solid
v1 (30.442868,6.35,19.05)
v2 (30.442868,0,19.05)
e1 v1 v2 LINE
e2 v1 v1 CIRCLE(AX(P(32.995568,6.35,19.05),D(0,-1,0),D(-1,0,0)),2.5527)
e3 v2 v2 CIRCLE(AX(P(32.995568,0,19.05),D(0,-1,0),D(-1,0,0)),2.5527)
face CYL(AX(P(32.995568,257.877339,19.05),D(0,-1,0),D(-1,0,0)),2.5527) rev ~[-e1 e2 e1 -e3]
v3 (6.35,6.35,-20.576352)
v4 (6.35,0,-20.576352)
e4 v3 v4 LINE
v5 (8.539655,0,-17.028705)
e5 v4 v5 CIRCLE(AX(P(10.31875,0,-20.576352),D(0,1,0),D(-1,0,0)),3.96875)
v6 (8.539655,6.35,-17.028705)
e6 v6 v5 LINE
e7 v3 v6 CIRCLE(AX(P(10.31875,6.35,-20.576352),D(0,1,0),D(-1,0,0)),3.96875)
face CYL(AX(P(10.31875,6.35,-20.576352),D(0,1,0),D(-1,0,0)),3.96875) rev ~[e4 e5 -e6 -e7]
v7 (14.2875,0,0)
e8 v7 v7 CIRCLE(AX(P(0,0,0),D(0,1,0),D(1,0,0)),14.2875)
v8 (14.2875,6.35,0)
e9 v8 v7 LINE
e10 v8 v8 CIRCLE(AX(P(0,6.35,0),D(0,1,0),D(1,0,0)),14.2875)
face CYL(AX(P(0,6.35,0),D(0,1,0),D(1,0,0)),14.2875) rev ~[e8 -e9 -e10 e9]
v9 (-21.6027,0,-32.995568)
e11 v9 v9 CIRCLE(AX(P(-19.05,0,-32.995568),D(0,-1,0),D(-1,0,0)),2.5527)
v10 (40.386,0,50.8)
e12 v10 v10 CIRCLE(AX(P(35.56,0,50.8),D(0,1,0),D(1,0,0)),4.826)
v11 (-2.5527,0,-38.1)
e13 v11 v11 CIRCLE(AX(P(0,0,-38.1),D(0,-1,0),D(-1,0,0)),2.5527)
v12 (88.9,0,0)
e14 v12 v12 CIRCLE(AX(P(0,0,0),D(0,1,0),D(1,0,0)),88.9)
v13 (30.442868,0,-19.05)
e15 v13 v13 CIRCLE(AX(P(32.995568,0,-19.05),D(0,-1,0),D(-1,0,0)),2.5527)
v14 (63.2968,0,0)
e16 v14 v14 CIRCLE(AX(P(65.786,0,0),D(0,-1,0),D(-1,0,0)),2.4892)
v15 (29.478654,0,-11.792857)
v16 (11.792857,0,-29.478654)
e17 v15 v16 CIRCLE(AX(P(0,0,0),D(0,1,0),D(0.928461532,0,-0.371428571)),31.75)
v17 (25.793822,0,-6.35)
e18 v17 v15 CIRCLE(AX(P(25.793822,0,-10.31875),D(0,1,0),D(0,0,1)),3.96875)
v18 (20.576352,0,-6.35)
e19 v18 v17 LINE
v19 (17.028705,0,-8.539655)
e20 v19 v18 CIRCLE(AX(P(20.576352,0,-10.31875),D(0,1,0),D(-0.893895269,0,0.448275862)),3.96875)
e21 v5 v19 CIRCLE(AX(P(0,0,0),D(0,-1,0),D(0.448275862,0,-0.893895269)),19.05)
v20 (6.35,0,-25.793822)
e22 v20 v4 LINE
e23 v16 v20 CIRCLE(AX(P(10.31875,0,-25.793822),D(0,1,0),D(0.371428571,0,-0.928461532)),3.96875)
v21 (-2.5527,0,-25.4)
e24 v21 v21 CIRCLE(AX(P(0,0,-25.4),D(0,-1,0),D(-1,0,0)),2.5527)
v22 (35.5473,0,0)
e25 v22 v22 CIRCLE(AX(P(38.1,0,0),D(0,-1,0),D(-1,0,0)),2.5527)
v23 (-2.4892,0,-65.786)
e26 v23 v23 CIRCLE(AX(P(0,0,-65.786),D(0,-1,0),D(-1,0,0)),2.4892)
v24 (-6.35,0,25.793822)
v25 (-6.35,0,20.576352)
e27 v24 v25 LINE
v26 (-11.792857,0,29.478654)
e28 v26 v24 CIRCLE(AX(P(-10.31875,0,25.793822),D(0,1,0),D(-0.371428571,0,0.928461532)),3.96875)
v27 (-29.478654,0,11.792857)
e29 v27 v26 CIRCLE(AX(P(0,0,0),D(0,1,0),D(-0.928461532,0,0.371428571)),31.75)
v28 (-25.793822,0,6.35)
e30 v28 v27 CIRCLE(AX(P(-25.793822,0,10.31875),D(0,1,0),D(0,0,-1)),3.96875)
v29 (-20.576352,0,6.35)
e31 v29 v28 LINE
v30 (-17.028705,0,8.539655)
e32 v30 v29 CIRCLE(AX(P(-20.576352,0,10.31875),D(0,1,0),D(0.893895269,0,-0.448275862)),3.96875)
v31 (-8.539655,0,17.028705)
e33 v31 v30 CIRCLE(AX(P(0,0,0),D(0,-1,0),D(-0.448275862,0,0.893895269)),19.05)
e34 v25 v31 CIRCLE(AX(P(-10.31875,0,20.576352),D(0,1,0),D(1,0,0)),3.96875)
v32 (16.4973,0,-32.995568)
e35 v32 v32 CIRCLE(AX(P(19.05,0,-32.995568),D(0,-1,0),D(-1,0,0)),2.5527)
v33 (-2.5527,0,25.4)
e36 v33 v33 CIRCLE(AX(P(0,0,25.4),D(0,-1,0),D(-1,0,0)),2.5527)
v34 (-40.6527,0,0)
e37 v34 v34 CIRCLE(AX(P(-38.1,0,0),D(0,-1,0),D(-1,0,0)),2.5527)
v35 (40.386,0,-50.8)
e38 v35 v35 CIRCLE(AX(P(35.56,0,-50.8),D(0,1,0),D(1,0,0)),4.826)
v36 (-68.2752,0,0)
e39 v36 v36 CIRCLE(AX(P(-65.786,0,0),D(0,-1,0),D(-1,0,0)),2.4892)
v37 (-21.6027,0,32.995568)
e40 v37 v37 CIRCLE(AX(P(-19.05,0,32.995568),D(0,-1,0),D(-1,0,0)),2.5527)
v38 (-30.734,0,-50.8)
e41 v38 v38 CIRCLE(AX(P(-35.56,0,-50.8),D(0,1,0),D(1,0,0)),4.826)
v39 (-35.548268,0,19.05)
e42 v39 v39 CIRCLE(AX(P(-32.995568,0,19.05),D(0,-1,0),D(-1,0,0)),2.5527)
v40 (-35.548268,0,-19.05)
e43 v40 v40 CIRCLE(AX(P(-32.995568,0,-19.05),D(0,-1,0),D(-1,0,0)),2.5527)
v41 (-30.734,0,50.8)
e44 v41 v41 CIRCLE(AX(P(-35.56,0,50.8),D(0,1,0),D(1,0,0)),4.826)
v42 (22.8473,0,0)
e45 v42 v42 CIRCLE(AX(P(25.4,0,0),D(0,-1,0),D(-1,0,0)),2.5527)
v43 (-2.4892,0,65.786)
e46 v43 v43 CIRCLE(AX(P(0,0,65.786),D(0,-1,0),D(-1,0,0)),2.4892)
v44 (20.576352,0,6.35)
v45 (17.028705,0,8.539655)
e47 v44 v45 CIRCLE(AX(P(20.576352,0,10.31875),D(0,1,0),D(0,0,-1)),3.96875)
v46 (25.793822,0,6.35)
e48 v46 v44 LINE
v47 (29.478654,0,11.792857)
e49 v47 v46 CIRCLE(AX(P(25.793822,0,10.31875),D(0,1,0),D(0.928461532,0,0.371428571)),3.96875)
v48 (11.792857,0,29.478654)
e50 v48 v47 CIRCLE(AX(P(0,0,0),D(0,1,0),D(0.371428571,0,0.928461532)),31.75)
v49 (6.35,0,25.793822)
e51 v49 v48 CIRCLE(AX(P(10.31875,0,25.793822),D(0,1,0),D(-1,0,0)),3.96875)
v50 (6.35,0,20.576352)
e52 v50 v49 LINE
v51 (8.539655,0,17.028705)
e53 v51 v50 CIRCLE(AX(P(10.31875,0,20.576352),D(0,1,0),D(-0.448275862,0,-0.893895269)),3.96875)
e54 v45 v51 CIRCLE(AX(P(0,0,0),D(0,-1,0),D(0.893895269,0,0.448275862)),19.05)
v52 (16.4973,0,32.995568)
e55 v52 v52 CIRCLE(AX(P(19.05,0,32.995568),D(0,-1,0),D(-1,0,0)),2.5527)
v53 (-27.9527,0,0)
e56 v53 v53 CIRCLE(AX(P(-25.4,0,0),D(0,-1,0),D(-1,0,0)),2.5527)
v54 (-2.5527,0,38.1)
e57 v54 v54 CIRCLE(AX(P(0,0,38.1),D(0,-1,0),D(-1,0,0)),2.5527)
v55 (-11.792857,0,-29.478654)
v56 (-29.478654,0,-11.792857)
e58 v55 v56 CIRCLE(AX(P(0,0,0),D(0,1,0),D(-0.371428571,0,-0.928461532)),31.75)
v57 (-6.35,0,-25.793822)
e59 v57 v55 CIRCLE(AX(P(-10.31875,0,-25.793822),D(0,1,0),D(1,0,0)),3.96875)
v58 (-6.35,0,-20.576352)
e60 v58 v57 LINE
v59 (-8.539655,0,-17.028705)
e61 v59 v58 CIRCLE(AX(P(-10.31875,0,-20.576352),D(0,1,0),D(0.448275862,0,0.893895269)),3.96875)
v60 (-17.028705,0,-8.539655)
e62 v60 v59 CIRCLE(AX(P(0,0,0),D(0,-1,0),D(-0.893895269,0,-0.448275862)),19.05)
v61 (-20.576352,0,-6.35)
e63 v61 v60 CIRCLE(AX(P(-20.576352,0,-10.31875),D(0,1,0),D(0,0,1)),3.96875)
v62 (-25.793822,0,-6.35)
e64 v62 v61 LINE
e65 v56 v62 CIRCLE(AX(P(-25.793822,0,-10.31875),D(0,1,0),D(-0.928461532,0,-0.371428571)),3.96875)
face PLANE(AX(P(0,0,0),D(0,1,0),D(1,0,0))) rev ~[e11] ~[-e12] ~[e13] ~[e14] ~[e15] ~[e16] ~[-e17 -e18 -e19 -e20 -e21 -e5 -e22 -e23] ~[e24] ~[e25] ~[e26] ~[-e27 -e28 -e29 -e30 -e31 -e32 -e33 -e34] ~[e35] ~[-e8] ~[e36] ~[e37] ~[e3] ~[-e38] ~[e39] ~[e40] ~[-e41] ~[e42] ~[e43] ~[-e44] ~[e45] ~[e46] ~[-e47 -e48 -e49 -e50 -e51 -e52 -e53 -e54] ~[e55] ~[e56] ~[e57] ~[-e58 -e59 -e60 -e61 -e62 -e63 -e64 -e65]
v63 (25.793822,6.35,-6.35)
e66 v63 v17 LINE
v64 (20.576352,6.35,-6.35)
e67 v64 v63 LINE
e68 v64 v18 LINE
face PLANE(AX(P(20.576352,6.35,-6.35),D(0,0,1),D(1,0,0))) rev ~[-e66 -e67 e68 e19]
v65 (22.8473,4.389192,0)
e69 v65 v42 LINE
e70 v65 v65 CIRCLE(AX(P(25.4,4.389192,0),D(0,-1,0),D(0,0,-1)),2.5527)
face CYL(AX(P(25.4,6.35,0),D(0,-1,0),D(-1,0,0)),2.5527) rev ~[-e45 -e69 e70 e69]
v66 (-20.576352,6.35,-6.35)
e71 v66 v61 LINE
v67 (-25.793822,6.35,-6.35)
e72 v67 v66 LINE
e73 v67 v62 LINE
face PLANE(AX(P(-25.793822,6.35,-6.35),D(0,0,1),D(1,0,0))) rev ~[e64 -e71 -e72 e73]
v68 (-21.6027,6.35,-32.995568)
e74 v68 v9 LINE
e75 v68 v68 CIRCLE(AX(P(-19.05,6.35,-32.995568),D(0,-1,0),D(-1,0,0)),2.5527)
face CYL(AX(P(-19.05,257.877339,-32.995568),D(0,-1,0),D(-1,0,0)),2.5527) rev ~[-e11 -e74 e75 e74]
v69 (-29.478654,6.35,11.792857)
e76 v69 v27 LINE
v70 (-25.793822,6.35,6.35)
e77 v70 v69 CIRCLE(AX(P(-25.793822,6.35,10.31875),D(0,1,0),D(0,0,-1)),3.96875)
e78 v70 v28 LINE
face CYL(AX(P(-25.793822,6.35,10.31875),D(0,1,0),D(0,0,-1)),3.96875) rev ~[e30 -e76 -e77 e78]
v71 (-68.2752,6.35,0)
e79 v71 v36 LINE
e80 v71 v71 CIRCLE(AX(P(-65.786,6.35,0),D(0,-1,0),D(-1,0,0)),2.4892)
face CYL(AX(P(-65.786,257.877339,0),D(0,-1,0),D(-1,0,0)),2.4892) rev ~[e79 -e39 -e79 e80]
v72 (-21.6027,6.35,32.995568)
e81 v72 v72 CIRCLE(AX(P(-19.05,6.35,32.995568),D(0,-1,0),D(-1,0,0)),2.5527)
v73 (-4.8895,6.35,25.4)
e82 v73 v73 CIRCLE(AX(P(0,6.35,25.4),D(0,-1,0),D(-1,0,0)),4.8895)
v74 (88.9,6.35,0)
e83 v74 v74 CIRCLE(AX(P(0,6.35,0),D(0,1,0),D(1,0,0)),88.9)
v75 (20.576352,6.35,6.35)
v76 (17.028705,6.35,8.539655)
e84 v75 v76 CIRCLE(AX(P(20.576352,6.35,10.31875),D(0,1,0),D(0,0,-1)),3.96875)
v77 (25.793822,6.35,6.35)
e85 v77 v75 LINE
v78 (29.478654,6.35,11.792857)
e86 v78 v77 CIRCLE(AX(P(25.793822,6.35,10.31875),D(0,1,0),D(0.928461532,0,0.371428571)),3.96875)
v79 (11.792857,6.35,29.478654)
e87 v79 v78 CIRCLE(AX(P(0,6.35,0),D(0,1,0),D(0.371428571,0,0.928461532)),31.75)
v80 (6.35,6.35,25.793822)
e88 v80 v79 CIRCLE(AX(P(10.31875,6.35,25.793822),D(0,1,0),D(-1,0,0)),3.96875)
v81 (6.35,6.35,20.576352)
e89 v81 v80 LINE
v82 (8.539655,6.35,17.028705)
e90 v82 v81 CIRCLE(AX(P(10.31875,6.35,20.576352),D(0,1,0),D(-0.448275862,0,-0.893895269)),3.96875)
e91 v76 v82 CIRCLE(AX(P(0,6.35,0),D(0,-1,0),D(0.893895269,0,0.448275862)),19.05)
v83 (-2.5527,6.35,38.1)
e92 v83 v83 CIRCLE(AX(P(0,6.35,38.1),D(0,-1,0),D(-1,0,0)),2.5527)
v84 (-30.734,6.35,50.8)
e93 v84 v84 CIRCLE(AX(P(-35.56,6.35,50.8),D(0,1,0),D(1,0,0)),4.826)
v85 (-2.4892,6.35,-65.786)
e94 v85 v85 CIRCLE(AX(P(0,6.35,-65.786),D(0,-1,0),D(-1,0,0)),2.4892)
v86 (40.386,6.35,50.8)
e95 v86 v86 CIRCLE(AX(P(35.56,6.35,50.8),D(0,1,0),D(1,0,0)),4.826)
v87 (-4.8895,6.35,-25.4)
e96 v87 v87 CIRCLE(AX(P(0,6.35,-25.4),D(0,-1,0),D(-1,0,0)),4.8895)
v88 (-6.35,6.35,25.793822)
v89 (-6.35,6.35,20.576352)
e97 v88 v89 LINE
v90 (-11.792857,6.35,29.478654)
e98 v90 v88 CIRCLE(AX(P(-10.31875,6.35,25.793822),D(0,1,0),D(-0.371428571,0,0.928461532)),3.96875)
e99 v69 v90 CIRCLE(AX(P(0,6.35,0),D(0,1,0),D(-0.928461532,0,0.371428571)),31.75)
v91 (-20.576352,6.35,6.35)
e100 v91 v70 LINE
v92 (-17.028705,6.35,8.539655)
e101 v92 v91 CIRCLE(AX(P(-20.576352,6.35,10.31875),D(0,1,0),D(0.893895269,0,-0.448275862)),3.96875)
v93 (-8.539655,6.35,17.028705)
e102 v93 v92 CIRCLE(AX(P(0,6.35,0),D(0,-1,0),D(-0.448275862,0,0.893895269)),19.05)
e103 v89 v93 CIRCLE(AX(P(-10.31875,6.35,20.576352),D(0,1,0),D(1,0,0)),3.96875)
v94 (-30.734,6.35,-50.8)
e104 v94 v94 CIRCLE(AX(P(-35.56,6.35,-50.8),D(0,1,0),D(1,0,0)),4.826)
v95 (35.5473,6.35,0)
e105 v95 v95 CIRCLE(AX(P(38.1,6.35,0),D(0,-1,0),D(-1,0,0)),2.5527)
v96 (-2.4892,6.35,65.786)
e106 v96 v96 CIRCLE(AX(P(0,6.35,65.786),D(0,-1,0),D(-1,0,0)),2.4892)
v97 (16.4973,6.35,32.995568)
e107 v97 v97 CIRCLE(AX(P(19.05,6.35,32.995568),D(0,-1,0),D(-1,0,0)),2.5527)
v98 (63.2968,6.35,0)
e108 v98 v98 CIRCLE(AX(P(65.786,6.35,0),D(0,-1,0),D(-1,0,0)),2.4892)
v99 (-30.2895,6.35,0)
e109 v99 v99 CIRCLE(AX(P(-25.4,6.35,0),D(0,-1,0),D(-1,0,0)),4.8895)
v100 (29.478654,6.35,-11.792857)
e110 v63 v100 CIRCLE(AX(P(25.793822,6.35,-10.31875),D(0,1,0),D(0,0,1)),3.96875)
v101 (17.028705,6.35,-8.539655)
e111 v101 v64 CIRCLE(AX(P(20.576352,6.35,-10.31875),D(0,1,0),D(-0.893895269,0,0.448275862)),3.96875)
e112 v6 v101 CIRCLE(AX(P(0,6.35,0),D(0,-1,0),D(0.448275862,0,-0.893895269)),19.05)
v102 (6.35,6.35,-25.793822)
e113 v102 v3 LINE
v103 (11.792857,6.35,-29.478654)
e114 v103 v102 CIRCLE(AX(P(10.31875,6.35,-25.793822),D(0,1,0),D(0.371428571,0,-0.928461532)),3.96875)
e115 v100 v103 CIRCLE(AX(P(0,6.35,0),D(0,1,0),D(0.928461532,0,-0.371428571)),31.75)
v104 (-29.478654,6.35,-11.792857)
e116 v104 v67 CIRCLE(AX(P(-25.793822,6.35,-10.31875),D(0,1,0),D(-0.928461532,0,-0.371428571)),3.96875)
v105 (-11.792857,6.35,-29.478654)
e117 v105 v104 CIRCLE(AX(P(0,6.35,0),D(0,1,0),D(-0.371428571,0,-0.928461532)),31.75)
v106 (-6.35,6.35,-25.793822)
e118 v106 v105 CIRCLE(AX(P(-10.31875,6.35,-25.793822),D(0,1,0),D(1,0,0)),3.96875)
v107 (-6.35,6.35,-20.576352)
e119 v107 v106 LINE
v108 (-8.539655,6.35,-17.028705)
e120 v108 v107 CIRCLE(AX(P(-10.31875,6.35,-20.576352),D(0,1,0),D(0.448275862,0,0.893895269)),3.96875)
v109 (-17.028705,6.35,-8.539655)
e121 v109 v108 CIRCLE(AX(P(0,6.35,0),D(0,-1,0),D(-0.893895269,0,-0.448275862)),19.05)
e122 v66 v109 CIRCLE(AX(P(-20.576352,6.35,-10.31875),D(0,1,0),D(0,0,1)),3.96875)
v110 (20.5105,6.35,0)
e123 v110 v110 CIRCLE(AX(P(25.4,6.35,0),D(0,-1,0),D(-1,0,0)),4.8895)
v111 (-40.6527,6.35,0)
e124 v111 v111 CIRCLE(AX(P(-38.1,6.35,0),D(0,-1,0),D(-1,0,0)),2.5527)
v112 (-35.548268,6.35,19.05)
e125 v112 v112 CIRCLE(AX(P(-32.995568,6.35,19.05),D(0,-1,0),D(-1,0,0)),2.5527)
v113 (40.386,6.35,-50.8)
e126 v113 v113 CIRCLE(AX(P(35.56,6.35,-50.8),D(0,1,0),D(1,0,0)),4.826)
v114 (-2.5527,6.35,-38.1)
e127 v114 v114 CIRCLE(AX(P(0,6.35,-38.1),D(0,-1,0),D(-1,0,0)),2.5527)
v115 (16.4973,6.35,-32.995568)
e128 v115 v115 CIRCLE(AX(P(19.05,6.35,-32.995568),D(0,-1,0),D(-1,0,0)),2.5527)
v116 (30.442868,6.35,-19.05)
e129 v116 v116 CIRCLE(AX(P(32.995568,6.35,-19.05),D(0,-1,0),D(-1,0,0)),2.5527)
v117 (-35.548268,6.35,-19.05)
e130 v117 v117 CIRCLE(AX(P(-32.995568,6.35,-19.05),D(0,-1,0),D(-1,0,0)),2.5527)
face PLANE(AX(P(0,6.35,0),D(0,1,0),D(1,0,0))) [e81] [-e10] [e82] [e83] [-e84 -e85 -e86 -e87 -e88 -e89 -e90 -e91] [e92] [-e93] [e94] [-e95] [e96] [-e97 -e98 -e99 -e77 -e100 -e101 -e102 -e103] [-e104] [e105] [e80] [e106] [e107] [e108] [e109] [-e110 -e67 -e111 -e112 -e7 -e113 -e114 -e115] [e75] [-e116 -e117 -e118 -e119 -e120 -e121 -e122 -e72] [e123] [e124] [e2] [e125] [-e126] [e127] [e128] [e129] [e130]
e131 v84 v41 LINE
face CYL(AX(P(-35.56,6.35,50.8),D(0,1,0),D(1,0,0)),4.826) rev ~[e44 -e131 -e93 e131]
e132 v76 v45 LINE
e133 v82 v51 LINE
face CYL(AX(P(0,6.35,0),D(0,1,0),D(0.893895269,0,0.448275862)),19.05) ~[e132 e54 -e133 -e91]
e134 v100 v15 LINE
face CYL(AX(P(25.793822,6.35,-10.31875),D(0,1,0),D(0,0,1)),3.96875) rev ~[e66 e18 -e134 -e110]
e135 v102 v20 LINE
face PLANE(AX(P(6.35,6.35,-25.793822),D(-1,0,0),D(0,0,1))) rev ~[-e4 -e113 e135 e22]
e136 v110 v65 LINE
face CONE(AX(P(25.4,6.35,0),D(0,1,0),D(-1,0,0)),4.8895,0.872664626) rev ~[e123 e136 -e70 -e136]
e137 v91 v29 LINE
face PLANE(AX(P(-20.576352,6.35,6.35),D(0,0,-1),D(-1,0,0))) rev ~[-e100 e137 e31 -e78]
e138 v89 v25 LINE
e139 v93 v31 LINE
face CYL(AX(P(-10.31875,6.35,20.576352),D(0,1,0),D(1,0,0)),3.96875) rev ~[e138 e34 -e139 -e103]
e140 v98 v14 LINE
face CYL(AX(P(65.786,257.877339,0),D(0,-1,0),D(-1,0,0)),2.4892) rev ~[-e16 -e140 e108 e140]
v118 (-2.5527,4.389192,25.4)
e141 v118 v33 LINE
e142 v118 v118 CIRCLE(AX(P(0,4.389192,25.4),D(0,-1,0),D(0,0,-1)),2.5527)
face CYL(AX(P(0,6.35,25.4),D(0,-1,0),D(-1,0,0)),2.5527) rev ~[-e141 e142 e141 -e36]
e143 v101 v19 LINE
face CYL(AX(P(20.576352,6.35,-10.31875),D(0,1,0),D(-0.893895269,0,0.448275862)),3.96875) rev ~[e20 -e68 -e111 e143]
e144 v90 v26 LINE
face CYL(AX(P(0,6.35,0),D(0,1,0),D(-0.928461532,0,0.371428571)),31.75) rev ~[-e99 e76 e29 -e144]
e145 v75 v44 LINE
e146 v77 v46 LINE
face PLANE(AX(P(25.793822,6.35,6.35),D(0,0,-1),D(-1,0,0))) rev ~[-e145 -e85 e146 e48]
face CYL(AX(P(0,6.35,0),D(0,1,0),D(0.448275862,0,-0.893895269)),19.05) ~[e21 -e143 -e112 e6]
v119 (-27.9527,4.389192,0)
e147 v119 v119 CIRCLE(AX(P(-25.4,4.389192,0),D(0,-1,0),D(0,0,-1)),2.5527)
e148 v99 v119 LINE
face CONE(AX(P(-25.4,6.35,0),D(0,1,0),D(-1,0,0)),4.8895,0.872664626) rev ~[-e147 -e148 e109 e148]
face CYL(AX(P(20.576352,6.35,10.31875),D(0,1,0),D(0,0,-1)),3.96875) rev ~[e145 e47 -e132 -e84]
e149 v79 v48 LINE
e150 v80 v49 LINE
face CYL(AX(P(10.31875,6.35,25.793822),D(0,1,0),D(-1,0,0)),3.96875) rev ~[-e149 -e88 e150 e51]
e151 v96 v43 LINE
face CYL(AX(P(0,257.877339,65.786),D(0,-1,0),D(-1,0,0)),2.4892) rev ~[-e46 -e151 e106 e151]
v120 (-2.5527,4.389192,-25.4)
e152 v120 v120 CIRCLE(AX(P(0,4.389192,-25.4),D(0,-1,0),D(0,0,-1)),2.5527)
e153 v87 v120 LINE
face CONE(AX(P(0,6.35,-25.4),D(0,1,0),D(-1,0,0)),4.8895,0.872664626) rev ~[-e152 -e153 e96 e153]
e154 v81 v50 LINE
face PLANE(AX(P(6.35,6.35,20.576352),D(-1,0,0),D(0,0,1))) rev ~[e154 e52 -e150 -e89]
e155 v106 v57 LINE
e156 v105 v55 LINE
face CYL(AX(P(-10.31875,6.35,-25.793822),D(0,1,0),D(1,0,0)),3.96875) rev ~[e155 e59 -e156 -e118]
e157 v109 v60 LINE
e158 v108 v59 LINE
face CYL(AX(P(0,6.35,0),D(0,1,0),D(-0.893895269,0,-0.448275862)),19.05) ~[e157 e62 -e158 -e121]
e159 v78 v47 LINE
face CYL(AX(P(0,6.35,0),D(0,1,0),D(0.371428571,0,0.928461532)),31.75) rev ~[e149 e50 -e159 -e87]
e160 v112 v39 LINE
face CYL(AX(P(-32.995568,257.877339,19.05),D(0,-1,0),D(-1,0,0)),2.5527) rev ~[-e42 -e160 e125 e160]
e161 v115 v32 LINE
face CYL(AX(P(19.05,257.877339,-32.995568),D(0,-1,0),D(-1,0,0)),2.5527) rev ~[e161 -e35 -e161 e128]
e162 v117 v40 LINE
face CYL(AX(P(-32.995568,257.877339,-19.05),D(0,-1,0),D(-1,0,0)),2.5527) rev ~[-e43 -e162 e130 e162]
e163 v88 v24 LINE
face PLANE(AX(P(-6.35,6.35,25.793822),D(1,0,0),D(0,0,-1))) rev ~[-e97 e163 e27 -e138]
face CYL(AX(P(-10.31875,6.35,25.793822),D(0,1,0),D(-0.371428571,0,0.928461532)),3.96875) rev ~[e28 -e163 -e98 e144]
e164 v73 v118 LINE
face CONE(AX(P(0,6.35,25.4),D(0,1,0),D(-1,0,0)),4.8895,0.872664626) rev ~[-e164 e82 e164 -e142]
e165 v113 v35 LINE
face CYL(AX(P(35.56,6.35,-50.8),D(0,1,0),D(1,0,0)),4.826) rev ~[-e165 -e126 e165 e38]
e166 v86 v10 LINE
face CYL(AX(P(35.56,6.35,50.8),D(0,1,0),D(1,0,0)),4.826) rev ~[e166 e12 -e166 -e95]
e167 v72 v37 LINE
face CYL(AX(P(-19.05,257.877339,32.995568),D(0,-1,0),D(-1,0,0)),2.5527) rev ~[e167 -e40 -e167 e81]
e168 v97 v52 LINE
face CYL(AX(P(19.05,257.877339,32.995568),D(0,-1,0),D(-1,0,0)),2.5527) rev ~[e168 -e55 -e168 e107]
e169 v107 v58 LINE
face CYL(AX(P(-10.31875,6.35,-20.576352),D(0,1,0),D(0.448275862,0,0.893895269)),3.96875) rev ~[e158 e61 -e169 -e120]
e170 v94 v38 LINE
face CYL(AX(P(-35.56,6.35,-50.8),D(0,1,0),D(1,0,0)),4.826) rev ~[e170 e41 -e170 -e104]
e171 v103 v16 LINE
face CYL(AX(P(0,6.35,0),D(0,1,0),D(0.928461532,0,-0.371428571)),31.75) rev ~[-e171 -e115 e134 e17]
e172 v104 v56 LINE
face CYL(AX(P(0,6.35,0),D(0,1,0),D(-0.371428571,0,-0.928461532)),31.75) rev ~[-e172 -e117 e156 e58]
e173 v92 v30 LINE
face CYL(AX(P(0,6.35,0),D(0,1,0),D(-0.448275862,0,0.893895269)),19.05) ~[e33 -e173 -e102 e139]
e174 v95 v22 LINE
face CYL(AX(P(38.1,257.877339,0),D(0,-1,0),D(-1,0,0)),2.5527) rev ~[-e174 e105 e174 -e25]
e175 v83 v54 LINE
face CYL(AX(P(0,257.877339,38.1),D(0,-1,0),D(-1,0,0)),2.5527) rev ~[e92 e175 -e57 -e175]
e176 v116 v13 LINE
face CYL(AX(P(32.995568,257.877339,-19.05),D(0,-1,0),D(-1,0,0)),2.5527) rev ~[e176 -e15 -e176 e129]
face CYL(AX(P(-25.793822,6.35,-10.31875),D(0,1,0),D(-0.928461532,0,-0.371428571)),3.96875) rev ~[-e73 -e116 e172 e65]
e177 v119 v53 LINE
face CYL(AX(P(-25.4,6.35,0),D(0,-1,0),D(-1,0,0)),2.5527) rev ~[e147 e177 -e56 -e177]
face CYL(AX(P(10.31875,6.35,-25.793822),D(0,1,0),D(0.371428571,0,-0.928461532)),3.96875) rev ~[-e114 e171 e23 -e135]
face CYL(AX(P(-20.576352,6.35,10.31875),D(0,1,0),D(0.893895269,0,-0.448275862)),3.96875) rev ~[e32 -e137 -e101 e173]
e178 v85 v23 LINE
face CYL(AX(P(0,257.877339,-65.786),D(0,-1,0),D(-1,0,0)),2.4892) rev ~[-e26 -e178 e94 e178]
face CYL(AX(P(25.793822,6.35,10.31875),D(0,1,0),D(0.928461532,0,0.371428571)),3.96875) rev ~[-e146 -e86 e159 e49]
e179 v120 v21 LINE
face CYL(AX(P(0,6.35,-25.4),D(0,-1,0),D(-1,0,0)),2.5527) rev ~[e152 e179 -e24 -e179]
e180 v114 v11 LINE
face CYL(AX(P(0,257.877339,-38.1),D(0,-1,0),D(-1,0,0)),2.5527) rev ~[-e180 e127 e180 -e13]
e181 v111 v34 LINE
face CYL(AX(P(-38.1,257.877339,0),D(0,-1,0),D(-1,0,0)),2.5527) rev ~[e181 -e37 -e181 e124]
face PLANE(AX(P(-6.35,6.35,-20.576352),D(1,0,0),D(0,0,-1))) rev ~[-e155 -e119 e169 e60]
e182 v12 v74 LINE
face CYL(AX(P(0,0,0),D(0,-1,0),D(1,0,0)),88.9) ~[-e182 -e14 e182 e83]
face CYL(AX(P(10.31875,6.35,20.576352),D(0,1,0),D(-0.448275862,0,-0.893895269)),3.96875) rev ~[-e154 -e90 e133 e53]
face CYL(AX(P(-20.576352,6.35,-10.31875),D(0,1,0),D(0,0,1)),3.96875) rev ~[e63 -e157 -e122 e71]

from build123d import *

# Parameters (mm, degrees)
SKETCH1_R                                          = 88.9
BOSS_EXTRUDE1_DEPTH                                = 6.35
SKETCH2_R                                          = 14.2875
CUT_EXTRUDE1_DEPTH                                 = 7.35
CSK_FOR_10_FLAT_HEAD_MACHINE_SCREW_100_D           = 5.1054
CSK_FOR_10_FLAT_HEAD_MACHINE_SCREW_100_CSINK_D     = 9.779
CSK_FOR_10_FLAT_HEAD_MACHINE_SCREW_100_CSINK_ANGLE = 100
F_9_0_196_DIAMETER_HOLE1_D                         = 4.9784
F_1_4_20_TAPPED_HOLE1_D                            = 5.1054
CUT_EXTRUDE3_DEPTH                                 = 6.35
SKETCH17_R                                         = 4.826
CUT_EXTRUDE4_DEPTH                                 = 7.35


with BuildPart() as part:
    # Sketch1 → Boss-Extrude1 (new body)
    with BuildSketch(Plane(origin=(0, 0, 0), x_dir=(1, 0, 0), z_dir=(0, 1, 0))):
        Circle(SKETCH1_R)
    extrude(amount=BOSS_EXTRUDE1_DEPTH)

    # Sketch2 → Cut-Extrude1 (cut, through all)
    with BuildSketch(Plane(origin=(0, 6.35, 0), x_dir=(1, 0, 0), z_dir=(0, 1, 0))):
        Circle(SKETCH2_R)
    extrude(amount=-CUT_EXTRUDE1_DEPTH, mode=Mode.SUBTRACT)

    # CSK for #10 Flat Head Machine Screw (100)1 (through all)
    with Locations(Plane(origin=(0, 6.35, 0), x_dir=(1, 0, 0), z_dir=(0, 1, 0))):
        with Locations((0, 25.4), (25.4, 0), (0, -25.4), (-25.4, 0)):
            CounterSinkHole(CSK_FOR_10_FLAT_HEAD_MACHINE_SCREW_100_D / 2, CSK_FOR_10_FLAT_HEAD_MACHINE_SCREW_100_CSINK_D / 2, counter_sink_angle=CSK_FOR_10_FLAT_HEAD_MACHINE_SCREW_100_CSINK_ANGLE)

    # #9 (0.196) Diameter Hole1 (through all)
    with Locations(Plane(origin=(0, 6.35, 0), x_dir=(1, 0, 0), z_dir=(0, 1, 0))):
        with Locations((0, 65.786), (65.786, 0), (0, -65.786), (-65.786, 0)):
            Hole(F_9_0_196_DIAMETER_HOLE1_D / 2)

    # 1/4-20 Tapped Hole1 (through all)
    with Locations(Plane(origin=(0, 6.35, 0), x_dir=(1, 0, 0), z_dir=(0, 1, 0))):
        with Locations((0, 38.1), (19.05, 32.995567884), (32.995567884, 19.05), (38.1, 0), (32.995567884, -19.05), (19.05, -32.995567884), (0, -38.1), (-19.05, -32.995567884), (-32.995567884, -19.05), (-38.1, 0), (-32.995567884, 19.05), (-19.05, 32.995567884)):
            Hole(F_1_4_20_TAPPED_HOLE1_D / 2)

    # Sketch16 → Cut-Extrude3 (cut)
    with BuildSketch(Plane(origin=(0, 6.35, 0), x_dir=(1, 0, 0), z_dir=(0, 1, 0))):
        with BuildLine():
            Line((20.576351717, 6.35), (25.793821935, 6.35))
            ThreePointArc((25.793821935, 6.35), (29.080259161, 8.09382148), (29.47865364, 11.792857143))
            ThreePointArc((29.47865364, 11.792857143), (22.450640303, 22.450640303), (11.792857143, 29.47865364))
            ThreePointArc((11.792857143, 29.47865364), (8.09382148, 29.080259161), (6.35, 25.793821935))
            Line((6.35, 25.793821935), (6.35, 20.576351717))
            ThreePointArc((6.35, 20.576351717), (6.941490818, 18.491862096), (8.539655172, 17.02870487))
            ThreePointArc((8.539655172, 17.02870487), (13.470384182, 13.470384182), (17.02870487, 8.539655172))
            ThreePointArc((17.02870487, 8.539655172), (18.491862096, 6.941490818), (20.576351717, 6.35))
        make_face()
        with BuildLine():
            Line((6.35, -20.576351717), (6.35, -25.793821935))
            ThreePointArc((6.35, -25.793821935), (8.09382148, -29.080259161), (11.792857143, -29.47865364))
            ThreePointArc((11.792857143, -29.47865364), (22.450640303, -22.450640303), (29.47865364, -11.792857143))
            ThreePointArc((29.47865364, -11.792857143), (29.080259161, -8.09382148), (25.793821935, -6.35))
            Line((25.793821935, -6.35), (20.576351717, -6.35))
            ThreePointArc((20.576351717, -6.35), (18.491862096, -6.941490818), (17.02870487, -8.539655172))
            ThreePointArc((17.02870487, -8.539655172), (13.470384182, -13.470384182), (8.539655172, -17.02870487))
            ThreePointArc((8.539655172, -17.02870487), (6.941490818, -18.491862096), (6.35, -20.576351717))
        make_face()
        with BuildLine():
            Line((-20.576351717, -6.35), (-25.793821935, -6.35))
            ThreePointArc((-25.793821935, -6.35), (-29.080259161, -8.09382148), (-29.47865364, -11.792857143))
            ThreePointArc((-29.47865364, -11.792857143), (-22.450640303, -22.450640303), (-11.792857143, -29.47865364))
            ThreePointArc((-11.792857143, -29.47865364), (-8.09382148, -29.080259161), (-6.35, -25.793821935))
            Line((-6.35, -25.793821935), (-6.35, -20.576351717))
            ThreePointArc((-6.35, -20.576351717), (-6.941490818, -18.491862096), (-8.539655172, -17.02870487))
            ThreePointArc((-8.539655172, -17.02870487), (-13.470384182, -13.470384182), (-17.02870487, -8.539655172))
            ThreePointArc((-17.02870487, -8.539655172), (-18.491862096, -6.941490818), (-20.576351717, -6.35))
        make_face()
        with BuildLine():
            Line((-6.35, 20.576351717), (-6.35, 25.793821935))
            ThreePointArc((-6.35, 25.793821935), (-8.09382148, 29.080259161), (-11.792857143, 29.47865364))
            ThreePointArc((-11.792857143, 29.47865364), (-22.450640303, 22.450640303), (-29.47865364, 11.792857143))
            ThreePointArc((-29.47865364, 11.792857143), (-29.080259161, 8.09382148), (-25.793821935, 6.35))
            Line((-25.793821935, 6.35), (-20.576351717, 6.35))
            ThreePointArc((-20.576351717, 6.35), (-18.491862096, 6.941490818), (-17.02870487, 8.539655172))
            ThreePointArc((-17.02870487, 8.539655172), (-13.470384182, 13.470384182), (-8.539655172, 17.02870487))
            ThreePointArc((-8.539655172, 17.02870487), (-6.941490818, 18.491862096), (-6.35, 20.576351717))
        make_face()
    extrude(amount=-CUT_EXTRUDE3_DEPTH, mode=Mode.SUBTRACT)

    # Sketch17 → Cut-Extrude4 (cut, through all)
    with BuildSketch(Plane(origin=(0, 6.35, 0), x_dir=(1, 0, 0), z_dir=(0, 1, 0))):
        with Locations((-35.56, -50.8)):
            Circle(SKETCH17_R)
        with Locations((-35.56, 50.8)):
            Circle(SKETCH17_R)
        with Locations((35.56, -50.8)):
            Circle(SKETCH17_R)
        with Locations((35.56, 50.8)):
            Circle(SKETCH17_R)
    extrude(amount=-CUT_EXTRUDE4_DEPTH, mode=Mode.SUBTRACT)


solid = part.part
